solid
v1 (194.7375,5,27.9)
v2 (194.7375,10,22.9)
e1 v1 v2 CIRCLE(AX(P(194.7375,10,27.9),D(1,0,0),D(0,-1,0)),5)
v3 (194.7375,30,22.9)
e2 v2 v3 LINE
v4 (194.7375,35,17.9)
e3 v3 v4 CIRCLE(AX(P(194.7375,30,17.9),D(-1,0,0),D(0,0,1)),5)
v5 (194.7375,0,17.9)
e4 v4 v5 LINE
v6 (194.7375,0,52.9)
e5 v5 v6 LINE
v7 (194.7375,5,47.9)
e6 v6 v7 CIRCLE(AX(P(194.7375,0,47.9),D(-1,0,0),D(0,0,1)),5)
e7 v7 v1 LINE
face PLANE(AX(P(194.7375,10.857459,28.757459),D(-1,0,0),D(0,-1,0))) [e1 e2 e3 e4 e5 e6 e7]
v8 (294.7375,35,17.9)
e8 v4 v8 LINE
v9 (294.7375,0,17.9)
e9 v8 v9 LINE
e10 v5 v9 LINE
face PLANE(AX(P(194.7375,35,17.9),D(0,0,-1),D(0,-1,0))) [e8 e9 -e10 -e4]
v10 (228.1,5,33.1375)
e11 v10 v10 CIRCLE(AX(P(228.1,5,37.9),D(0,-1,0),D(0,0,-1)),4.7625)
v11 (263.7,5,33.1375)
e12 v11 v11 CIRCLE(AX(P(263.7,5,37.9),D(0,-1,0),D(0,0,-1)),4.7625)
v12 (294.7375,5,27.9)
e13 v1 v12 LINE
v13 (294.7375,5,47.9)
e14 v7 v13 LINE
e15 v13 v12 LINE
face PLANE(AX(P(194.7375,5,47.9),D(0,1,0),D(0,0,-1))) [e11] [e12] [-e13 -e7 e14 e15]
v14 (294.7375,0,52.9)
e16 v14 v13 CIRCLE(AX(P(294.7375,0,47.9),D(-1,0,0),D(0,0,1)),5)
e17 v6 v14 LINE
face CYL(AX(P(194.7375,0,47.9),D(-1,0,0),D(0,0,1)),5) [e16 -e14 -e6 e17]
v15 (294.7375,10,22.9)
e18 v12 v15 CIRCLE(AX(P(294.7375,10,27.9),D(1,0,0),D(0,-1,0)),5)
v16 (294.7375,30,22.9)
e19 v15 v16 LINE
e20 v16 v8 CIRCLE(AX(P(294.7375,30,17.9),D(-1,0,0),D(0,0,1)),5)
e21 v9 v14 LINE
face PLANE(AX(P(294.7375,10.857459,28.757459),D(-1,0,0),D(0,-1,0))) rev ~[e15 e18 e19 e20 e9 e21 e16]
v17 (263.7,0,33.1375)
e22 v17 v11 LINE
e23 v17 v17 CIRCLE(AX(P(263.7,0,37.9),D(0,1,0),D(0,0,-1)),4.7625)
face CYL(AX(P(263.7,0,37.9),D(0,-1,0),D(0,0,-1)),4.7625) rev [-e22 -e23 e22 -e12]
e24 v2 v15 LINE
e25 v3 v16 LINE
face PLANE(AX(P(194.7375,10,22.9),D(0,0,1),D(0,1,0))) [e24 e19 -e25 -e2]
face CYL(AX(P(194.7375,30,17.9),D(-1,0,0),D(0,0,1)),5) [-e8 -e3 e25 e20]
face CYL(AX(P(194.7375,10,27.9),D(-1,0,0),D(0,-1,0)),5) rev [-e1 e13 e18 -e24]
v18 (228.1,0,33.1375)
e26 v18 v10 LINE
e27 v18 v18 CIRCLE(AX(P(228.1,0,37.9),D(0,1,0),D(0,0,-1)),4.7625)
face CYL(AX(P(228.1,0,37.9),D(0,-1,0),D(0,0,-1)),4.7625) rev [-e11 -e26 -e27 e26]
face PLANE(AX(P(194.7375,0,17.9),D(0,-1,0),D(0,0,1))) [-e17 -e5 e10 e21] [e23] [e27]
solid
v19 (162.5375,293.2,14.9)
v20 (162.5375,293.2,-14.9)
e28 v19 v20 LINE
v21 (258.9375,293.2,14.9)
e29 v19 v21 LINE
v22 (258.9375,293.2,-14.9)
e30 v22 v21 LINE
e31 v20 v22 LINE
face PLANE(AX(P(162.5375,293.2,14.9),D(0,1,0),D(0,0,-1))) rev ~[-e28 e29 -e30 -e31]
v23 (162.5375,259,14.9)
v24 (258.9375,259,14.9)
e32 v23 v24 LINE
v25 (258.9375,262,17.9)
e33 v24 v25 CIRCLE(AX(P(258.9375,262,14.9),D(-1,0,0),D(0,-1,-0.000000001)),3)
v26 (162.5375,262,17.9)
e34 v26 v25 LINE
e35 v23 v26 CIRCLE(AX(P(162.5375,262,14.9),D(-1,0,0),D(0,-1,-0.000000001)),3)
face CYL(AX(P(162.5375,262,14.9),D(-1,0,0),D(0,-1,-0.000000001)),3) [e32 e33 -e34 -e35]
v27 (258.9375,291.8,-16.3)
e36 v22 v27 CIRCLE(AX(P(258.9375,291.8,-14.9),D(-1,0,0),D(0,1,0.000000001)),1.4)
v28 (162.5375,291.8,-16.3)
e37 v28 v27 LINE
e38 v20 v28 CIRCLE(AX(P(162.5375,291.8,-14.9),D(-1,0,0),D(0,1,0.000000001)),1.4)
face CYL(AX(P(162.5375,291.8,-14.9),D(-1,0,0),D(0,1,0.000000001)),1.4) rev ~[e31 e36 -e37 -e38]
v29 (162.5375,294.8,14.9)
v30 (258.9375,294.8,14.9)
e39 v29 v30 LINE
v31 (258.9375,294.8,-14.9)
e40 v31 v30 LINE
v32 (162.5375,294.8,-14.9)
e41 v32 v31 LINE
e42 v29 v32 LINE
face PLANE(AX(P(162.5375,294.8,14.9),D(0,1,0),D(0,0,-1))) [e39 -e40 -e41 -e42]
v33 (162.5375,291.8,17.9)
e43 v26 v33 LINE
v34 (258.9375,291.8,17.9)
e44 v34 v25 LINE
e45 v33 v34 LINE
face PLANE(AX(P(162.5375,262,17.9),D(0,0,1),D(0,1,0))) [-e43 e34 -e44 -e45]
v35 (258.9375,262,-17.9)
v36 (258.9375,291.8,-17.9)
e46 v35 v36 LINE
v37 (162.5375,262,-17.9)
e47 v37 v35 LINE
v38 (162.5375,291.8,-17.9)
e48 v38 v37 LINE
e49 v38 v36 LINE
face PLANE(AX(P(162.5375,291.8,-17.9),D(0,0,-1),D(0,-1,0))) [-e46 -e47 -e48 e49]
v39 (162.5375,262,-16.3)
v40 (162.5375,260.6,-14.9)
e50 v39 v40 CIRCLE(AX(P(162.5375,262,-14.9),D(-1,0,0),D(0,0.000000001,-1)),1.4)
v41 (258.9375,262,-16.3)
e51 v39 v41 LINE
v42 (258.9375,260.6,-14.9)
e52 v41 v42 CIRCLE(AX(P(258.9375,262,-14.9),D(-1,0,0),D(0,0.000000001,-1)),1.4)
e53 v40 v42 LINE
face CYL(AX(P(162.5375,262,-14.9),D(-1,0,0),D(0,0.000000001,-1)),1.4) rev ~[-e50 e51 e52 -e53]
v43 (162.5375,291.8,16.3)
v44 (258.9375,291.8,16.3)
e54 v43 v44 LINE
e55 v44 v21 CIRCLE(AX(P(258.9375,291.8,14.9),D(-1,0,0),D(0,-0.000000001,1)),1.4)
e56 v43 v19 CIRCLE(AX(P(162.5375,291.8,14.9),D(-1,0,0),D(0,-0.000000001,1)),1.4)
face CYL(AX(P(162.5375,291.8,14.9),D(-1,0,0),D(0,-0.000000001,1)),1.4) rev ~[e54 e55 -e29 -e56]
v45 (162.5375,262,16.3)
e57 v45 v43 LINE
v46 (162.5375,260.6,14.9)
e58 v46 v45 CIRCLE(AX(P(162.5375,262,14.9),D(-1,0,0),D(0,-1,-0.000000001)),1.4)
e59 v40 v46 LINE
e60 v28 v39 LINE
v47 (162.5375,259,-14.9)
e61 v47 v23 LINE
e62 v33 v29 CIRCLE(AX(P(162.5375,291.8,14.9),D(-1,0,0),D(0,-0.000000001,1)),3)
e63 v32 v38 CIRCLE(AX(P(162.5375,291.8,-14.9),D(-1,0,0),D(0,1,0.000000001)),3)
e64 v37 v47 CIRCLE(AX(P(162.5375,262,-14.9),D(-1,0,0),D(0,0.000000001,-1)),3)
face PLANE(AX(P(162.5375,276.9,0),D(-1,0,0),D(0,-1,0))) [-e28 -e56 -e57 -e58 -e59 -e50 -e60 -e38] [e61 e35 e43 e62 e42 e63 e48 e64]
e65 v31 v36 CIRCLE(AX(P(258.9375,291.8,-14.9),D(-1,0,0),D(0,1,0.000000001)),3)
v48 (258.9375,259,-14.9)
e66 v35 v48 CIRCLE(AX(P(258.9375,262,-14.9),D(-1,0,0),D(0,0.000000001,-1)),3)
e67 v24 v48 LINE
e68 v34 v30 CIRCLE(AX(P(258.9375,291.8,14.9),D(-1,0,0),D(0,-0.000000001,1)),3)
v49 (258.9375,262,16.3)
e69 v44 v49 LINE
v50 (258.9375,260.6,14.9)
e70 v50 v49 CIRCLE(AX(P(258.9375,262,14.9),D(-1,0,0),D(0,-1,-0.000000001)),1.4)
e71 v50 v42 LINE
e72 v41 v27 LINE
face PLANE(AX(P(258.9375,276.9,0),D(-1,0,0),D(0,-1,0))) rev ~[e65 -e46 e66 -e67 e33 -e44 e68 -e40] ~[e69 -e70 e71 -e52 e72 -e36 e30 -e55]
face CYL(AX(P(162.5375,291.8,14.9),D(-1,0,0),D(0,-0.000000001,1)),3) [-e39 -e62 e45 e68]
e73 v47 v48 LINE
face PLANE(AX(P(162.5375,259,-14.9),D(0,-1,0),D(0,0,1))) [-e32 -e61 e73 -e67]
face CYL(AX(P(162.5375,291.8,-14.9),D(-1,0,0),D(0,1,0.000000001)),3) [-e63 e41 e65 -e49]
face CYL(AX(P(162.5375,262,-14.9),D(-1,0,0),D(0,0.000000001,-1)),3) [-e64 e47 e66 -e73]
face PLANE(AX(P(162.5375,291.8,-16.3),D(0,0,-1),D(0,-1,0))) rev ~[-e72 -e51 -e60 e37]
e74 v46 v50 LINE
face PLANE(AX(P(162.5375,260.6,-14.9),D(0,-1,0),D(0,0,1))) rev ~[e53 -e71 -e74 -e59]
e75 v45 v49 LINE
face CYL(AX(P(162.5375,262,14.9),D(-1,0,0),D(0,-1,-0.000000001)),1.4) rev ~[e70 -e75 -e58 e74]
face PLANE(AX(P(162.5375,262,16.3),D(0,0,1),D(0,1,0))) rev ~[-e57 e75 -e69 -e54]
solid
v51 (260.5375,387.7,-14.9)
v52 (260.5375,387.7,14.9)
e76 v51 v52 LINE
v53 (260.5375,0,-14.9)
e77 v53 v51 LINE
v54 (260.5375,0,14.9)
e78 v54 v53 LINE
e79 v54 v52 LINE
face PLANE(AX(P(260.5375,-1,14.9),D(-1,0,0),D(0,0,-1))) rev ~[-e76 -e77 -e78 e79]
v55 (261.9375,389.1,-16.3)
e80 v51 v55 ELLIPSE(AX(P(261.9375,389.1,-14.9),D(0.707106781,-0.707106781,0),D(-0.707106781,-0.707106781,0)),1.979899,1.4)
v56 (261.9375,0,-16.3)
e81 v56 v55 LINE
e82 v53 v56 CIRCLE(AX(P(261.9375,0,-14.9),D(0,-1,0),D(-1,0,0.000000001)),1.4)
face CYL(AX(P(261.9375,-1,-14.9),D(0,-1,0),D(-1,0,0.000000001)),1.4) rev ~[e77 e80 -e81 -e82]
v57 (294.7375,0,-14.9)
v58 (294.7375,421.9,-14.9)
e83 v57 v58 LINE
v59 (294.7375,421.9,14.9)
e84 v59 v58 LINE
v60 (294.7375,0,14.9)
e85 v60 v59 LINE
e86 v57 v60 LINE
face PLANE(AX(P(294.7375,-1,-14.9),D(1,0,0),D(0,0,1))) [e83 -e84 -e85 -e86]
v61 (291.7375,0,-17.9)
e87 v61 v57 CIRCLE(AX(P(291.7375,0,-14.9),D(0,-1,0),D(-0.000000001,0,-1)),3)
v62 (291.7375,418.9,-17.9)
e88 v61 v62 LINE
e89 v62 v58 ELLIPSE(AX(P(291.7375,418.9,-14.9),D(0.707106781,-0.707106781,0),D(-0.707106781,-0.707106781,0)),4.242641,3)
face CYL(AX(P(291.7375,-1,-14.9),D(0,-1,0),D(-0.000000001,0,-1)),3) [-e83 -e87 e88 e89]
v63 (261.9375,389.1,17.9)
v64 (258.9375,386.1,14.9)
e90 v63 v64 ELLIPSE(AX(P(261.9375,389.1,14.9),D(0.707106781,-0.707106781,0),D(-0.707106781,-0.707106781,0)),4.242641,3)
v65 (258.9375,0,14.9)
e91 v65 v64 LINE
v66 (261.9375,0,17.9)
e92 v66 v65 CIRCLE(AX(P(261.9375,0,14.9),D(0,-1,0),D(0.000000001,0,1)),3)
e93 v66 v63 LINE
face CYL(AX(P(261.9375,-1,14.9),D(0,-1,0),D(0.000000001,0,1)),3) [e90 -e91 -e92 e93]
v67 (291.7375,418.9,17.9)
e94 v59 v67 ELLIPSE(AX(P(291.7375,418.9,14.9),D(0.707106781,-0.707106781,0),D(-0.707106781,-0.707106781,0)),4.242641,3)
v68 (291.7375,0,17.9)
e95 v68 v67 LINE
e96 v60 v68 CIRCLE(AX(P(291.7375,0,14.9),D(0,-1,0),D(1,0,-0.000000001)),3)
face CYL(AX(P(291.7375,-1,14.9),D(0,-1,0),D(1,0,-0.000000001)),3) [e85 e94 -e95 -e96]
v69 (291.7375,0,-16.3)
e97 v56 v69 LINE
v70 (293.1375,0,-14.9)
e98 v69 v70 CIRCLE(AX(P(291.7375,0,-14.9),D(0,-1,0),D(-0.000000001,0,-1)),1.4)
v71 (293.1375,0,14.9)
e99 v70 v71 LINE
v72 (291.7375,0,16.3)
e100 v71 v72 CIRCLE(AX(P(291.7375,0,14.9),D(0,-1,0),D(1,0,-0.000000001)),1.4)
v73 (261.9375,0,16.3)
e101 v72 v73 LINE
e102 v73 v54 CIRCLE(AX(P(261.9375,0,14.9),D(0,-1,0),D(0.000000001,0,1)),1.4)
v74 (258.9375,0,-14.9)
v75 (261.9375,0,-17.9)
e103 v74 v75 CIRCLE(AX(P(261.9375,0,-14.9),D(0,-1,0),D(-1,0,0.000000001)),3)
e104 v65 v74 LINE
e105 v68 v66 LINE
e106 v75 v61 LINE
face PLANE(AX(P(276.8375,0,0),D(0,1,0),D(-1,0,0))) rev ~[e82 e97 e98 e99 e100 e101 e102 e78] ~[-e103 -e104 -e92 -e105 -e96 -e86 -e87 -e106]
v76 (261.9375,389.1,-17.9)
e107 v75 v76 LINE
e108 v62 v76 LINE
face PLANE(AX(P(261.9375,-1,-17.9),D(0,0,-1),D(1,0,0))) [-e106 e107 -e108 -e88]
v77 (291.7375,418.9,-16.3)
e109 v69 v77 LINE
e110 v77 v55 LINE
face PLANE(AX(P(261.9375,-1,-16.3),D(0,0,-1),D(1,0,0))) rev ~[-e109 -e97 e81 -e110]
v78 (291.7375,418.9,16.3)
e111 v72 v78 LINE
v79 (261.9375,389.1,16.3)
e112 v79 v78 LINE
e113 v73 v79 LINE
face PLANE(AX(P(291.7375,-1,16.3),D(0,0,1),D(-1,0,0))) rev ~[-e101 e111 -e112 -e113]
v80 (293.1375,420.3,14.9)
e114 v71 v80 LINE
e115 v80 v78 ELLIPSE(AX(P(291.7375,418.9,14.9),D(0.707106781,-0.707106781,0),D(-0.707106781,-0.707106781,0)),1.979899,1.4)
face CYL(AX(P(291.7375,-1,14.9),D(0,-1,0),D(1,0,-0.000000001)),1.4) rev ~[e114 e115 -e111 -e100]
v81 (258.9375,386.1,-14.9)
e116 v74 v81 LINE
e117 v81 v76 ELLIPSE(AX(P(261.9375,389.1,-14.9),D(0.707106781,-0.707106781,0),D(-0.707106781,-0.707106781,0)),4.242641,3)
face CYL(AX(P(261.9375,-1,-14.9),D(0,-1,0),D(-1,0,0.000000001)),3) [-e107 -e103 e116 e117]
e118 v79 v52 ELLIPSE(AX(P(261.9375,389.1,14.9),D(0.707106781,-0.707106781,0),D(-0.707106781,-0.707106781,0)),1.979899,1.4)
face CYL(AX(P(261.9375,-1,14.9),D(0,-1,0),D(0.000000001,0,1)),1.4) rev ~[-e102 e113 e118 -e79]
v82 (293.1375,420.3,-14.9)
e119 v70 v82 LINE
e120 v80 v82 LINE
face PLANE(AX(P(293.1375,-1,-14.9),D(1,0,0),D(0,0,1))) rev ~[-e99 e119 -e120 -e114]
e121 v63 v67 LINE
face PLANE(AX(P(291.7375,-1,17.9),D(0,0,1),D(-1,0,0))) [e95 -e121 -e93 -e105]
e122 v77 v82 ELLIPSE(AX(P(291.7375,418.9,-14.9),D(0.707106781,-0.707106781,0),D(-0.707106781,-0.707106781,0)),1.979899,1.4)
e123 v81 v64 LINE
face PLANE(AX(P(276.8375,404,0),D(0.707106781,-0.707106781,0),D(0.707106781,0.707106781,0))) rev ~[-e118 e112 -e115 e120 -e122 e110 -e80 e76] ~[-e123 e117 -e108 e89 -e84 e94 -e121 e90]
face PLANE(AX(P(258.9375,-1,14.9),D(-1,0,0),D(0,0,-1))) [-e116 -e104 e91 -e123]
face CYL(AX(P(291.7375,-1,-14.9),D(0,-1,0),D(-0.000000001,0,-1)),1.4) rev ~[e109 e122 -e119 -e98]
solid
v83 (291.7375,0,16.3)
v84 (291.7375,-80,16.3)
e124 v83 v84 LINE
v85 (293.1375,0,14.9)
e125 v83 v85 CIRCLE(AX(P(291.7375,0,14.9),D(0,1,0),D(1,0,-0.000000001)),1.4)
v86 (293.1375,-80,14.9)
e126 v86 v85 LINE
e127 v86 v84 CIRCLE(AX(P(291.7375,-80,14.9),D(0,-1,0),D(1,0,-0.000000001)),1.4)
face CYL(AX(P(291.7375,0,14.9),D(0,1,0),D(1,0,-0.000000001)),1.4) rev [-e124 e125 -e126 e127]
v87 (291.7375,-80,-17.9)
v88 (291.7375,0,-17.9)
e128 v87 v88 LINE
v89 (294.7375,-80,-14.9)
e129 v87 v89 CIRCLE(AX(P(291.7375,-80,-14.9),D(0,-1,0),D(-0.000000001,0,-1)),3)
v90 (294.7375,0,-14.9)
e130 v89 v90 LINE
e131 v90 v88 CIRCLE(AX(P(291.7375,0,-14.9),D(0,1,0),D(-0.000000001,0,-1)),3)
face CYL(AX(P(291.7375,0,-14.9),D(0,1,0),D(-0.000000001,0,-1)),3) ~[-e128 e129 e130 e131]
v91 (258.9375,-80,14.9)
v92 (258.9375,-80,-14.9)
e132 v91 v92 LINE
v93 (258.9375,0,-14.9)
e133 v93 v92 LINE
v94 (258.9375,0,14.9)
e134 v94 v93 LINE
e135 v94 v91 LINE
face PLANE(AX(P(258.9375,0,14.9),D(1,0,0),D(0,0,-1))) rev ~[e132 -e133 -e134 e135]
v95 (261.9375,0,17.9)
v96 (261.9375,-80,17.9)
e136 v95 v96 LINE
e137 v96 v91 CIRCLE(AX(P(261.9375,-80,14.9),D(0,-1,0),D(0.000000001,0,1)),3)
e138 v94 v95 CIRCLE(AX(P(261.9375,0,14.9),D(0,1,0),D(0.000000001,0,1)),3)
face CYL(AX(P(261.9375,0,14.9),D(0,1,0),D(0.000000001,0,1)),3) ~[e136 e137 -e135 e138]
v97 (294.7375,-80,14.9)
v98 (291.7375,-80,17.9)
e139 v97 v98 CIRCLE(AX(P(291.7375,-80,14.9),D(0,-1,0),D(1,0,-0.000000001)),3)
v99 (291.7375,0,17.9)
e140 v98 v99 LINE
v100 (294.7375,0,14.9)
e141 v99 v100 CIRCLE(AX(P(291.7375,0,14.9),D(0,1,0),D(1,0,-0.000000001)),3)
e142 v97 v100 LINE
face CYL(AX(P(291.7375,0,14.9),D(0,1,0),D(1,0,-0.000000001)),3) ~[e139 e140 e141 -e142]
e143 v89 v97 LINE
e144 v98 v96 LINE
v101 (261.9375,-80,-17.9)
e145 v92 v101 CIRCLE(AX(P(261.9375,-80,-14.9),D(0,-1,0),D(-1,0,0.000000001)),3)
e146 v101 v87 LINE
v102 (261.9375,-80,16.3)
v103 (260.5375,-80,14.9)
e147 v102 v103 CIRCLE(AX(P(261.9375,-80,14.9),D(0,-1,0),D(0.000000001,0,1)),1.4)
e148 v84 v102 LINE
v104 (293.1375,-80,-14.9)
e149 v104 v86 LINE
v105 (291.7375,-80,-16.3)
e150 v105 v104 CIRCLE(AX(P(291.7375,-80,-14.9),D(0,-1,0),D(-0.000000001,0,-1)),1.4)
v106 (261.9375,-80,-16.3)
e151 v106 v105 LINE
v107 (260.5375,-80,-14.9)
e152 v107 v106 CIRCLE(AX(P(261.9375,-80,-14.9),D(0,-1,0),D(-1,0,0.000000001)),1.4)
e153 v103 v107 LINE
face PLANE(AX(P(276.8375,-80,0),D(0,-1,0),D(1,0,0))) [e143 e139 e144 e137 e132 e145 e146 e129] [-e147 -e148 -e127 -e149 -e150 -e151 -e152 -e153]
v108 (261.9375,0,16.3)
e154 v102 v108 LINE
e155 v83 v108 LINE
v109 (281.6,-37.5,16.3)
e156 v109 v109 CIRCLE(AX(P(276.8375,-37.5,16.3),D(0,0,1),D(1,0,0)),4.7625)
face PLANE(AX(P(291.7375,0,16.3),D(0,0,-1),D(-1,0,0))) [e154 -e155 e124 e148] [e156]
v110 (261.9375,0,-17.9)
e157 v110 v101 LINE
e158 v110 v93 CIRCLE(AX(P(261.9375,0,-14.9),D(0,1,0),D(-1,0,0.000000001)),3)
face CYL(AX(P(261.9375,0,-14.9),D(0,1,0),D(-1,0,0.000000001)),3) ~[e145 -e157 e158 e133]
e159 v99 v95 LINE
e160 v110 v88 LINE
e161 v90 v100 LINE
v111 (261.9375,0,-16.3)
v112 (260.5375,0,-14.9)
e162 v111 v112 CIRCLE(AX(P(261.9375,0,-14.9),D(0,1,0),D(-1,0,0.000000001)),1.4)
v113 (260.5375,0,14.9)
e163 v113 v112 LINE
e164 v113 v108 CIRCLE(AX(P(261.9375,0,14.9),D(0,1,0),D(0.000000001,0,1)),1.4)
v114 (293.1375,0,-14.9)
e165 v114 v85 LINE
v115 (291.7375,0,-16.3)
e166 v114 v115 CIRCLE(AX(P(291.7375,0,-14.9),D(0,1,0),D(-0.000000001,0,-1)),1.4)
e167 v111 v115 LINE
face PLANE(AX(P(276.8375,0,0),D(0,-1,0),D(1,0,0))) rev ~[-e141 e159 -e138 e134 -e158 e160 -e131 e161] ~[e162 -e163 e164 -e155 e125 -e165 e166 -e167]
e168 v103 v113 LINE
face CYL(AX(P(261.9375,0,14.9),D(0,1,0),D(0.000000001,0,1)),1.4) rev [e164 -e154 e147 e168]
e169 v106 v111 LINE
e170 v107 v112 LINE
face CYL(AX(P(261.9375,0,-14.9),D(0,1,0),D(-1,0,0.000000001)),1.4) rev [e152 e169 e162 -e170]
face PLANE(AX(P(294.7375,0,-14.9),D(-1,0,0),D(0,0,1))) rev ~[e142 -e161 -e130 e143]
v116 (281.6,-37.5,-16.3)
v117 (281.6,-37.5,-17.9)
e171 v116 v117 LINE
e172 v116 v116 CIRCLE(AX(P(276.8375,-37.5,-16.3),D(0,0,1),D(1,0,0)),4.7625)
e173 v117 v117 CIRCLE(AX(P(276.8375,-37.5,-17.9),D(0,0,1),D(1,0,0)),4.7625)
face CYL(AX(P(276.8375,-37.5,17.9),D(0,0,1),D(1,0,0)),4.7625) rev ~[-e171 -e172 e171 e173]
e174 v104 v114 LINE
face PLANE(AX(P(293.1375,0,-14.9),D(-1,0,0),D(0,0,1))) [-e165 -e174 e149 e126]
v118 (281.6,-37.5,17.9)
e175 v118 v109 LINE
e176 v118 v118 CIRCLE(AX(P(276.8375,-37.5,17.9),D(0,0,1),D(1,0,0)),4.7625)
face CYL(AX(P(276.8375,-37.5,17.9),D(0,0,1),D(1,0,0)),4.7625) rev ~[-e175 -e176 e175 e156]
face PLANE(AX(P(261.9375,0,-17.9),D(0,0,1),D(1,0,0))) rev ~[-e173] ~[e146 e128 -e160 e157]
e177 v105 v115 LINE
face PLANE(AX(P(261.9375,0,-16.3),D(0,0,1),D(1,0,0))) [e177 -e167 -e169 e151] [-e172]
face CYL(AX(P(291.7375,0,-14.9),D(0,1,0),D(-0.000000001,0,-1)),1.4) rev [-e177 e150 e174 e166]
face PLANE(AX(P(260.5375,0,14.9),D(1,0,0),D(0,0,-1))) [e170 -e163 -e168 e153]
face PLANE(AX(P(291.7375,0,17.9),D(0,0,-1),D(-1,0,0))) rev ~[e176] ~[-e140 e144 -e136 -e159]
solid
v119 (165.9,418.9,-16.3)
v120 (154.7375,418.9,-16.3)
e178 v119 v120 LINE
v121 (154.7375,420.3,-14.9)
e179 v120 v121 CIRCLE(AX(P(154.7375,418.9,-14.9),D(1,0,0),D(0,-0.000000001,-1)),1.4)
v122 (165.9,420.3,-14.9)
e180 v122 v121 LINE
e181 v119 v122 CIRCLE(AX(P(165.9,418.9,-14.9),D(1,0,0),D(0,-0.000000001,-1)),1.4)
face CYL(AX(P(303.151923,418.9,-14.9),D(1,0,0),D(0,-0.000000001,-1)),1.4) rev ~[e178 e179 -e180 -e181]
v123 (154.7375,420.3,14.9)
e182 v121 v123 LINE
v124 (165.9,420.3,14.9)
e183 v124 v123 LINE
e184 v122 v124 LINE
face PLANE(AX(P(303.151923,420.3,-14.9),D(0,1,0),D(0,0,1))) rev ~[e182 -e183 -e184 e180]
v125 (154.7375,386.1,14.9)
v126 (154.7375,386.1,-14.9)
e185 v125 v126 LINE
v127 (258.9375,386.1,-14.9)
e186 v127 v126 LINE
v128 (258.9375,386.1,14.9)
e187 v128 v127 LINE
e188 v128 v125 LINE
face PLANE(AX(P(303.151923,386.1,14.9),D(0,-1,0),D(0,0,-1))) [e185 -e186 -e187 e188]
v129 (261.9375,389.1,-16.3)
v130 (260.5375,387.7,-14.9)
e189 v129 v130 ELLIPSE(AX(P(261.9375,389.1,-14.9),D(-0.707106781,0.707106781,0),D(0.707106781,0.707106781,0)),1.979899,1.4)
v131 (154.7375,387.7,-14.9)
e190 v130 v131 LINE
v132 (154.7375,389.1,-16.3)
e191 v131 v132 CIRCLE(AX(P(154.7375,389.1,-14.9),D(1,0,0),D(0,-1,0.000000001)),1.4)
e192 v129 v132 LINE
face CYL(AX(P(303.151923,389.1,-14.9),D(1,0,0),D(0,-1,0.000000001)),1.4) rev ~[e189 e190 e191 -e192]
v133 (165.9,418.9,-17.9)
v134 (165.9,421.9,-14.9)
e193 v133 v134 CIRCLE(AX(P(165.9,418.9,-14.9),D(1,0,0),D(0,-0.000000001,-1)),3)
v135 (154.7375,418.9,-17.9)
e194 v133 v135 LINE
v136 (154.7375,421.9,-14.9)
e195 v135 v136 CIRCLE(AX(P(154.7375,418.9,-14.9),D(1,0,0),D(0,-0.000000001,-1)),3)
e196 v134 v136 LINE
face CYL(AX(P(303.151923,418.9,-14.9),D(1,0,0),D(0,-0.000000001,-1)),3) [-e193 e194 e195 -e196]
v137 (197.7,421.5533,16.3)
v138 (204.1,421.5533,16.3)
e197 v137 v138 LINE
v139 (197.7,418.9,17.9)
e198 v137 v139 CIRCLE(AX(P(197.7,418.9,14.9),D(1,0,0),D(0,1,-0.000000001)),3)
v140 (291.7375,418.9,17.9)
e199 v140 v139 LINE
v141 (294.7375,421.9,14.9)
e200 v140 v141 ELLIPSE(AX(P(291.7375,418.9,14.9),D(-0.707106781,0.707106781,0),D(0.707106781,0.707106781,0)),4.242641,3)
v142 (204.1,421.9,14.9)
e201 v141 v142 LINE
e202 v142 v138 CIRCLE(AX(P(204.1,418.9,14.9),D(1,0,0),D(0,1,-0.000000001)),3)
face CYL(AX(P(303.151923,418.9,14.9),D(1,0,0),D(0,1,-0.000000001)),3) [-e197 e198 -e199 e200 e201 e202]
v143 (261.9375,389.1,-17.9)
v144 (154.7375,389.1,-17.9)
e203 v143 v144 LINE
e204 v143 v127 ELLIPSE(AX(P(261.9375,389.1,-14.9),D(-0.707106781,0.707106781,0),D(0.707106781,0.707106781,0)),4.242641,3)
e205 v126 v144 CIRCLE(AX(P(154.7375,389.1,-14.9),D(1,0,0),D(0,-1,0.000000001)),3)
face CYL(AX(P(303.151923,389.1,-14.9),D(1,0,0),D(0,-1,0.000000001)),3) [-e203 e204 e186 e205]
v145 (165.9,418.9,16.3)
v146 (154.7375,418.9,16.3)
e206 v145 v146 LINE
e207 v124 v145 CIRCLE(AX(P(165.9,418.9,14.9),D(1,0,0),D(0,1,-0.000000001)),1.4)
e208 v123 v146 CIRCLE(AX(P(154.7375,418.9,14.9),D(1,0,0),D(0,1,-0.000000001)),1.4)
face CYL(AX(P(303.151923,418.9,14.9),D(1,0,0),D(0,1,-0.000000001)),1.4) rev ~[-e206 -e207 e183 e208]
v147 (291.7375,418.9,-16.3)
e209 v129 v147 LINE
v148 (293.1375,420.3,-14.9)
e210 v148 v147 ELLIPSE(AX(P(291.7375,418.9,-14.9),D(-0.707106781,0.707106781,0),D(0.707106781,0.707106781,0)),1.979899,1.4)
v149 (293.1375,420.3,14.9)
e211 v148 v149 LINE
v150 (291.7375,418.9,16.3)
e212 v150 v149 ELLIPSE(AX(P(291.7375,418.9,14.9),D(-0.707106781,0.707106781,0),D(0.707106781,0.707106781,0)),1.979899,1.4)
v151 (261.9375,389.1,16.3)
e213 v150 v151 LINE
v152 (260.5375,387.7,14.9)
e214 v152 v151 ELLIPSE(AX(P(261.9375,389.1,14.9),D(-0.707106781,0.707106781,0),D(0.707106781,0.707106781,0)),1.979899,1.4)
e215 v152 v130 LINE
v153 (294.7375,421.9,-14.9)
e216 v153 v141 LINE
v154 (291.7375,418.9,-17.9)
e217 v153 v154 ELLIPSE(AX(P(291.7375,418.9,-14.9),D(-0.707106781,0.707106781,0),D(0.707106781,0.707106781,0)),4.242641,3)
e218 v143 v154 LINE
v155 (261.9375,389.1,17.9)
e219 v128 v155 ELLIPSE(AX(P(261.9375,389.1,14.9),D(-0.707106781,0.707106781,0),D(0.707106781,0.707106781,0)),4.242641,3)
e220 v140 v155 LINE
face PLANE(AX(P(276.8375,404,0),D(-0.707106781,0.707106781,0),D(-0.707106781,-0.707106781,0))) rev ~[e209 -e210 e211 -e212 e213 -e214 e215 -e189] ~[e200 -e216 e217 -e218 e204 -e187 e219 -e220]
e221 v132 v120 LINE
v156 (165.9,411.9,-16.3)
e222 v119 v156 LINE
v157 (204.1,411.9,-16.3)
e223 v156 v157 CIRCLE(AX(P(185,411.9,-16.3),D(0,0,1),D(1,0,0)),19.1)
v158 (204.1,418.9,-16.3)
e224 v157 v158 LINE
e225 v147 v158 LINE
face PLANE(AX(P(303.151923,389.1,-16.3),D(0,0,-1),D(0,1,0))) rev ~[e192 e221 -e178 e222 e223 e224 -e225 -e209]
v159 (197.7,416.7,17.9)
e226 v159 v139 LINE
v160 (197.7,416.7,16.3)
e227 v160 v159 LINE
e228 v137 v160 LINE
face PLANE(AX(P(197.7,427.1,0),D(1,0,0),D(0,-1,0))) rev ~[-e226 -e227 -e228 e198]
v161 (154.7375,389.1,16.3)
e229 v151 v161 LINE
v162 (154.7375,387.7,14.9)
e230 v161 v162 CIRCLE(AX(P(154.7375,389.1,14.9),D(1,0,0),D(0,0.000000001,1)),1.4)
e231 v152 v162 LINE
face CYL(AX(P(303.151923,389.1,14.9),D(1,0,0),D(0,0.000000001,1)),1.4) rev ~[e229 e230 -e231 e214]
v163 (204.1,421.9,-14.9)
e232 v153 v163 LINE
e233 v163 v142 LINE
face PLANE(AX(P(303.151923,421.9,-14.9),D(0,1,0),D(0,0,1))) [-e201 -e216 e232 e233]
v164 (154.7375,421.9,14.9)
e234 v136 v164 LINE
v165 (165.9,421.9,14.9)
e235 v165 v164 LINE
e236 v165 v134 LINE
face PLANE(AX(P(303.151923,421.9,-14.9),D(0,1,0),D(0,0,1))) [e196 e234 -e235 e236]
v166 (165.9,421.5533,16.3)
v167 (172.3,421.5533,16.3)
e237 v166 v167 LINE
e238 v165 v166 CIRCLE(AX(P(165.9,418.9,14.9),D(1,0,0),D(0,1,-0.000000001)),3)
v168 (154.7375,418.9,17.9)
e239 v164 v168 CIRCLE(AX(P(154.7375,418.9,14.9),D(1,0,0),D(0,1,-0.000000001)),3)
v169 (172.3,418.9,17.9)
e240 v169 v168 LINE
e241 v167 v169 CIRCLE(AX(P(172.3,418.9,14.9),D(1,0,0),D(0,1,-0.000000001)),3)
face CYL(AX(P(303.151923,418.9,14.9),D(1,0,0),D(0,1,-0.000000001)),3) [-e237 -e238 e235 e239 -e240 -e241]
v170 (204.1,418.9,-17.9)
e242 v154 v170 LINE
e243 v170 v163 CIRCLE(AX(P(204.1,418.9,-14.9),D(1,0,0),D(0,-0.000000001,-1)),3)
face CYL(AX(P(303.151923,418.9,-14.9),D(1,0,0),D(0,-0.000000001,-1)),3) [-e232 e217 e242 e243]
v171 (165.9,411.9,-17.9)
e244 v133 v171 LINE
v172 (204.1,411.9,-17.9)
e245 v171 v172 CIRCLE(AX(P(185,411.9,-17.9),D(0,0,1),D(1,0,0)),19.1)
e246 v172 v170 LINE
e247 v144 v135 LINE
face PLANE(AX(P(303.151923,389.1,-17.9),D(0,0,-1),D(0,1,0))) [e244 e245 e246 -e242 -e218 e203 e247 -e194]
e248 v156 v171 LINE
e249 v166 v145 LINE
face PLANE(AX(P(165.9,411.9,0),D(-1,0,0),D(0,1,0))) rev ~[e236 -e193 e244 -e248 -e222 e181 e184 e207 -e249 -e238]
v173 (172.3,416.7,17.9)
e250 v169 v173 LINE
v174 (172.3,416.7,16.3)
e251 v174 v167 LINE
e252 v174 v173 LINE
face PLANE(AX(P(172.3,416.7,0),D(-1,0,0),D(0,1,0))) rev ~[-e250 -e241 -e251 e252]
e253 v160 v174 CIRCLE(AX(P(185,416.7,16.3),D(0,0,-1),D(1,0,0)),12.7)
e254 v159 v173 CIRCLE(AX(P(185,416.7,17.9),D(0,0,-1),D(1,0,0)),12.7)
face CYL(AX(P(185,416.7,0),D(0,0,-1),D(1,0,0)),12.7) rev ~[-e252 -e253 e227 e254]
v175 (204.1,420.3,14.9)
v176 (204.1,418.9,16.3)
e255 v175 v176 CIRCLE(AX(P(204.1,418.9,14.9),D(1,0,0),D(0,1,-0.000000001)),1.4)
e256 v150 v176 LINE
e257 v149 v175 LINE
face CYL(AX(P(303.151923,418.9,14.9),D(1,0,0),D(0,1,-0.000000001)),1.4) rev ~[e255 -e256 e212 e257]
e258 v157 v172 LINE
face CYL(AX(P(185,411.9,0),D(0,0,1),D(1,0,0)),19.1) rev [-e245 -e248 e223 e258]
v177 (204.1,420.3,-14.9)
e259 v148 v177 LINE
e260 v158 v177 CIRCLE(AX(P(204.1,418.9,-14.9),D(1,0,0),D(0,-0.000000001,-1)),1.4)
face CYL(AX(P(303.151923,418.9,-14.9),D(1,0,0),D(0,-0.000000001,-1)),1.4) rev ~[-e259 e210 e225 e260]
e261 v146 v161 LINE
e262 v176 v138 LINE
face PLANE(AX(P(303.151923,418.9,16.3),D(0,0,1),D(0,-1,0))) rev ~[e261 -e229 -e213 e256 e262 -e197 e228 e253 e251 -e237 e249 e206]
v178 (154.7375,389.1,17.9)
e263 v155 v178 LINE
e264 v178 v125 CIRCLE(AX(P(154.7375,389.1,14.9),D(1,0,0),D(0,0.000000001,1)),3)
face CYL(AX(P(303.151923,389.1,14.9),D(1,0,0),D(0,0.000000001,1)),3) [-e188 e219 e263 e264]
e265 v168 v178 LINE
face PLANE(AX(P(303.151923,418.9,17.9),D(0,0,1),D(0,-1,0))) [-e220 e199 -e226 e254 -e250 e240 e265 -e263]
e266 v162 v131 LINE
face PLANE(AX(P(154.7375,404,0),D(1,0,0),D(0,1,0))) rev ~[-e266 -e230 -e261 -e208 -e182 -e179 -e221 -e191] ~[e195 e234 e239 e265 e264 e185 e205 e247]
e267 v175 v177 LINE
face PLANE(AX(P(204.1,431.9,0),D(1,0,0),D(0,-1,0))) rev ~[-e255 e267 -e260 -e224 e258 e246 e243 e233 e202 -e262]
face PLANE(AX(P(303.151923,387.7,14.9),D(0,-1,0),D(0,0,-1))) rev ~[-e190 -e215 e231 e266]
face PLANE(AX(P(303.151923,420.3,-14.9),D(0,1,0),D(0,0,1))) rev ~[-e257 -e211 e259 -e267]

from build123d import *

# Parameters (mm, degrees)
STRUCTURAL_MEMBERMAIN_DEPTH                   = 1
STRUCTURAL_MEMBERMAIN_DEPTH_BACK              = 80
STRUCTURAL_MEMBERMAIN_2_DEPTH                 = 431.314422766
STRUCTURAL_MEMBERMAIN_3_DEPTH                 = 148.414422766
STRUCTURAL_MEMBERMAIN_4_DEPTH                 = 115.3
CUT_EXTRUDETOPRAILGUIDE_DEPTH                 = 515.966225986
CUT_EXTRUDETOPRAILGUIDE_DEPTH_BACK            = 515.966225986
STRUCTURAL_MEMBERANGLE_DEPTH                  = 100
SKETCH15_R                                    = 4.7625
CUT_EXTRUDEMOUNTINGHOLES_DEPTH                = 518.366614603
CUT_EXTRUDEENLARGERAILGUIDE_DEPTH             = 518.366614603
CUT_EXTRUDEENLARGERAILGUIDE_DIRECTION_2_REACH = 519.367
SKETCH17_R                                    = 4.7625
CUT_EXTRUDE1_DEPTH                            = 516.898676007


with BuildPart() as part:
    # Sketch11 → Structural MemberMain (new, two sides)
    with BuildSketch(Plane(origin=(276.8375, 0, 0), x_dir=(-1, 0, 0), z_dir=(0, 1, 0))) as structural_membermain_sk:
        with BuildLine():
            Line((-14.9, 17.9), (14.9, 17.9))
            ThreePointArc((14.9, 17.9), (17.021320344, 17.021320344), (17.9, 14.9))
            Line((17.9, 14.9), (17.9, -14.9))
            ThreePointArc((17.9, -14.9), (17.021320344, -17.021320344), (14.9, -17.9))
            Line((14.9, -17.9), (-14.9, -17.9))
            ThreePointArc((-14.9, -17.9), (-17.021320344, -17.021320344), (-17.9, -14.9))
            Line((-17.9, -14.9), (-17.9, 14.9))
            ThreePointArc((-17.9, 14.9), (-17.021320344, 17.021320344), (-14.9, 17.9))
        make_face()
        with BuildLine():
            Line((-14.9, 16.3), (14.9, 16.3))
            ThreePointArc((14.9, 16.3), (15.889949494, 15.889949494), (16.3, 14.9))
            Line((16.3, 14.9), (16.3, -14.9))
            ThreePointArc((16.3, -14.9), (15.889949494, -15.889949494), (14.9, -16.3))
            Line((14.9, -16.3), (-14.9, -16.3))
            ThreePointArc((-14.9, -16.3), (-15.889949494, -15.889949494), (-16.3, -14.9))
            Line((-16.3, -14.9), (-16.3, 14.9))
            ThreePointArc((-16.3, 14.9), (-15.889949494, 15.889949494), (-14.9, 16.3))
        make_face(mode=Mode.SUBTRACT)
    extrude(amount=STRUCTURAL_MEMBERMAIN_DEPTH)
    extrude(structural_membermain_sk.sketch, amount=-STRUCTURAL_MEMBERMAIN_DEPTH_BACK)

    # Structural MemberMain mitre 1
    split(bisect_by=Plane(origin=(276.8375, 0, 0), x_dir=(1, 0, 0), z_dir=(0, -1, 0)), keep=Keep.TOP)

    # Sketch17 → Cut-Extrude1 (cut, through all)
    with BuildSketch(Plane.XY.offset(17.9)):
        with Locations((276.8375, -37.5)):
            Circle(SKETCH17_R)
    extrude(amount=-CUT_EXTRUDE1_DEPTH, mode=Mode.SUBTRACT)


with BuildPart() as body_2:
    # Sketch11 on segment 2 (carried to segment 2) → Structural MemberMain 2 (new body)
    with BuildSketch(Plane(origin=(276.8375, -1, 0), x_dir=(-1, 0, 0), z_dir=(0, 1, 0))):
        with BuildLine():
            Line((-14.9, 17.9), (14.9, 17.9))
            ThreePointArc((14.9, 17.9), (17.021320344, 17.021320344), (17.9, 14.9))
            Line((17.9, 14.9), (17.9, -14.9))
            ThreePointArc((17.9, -14.9), (17.021320344, -17.021320344), (14.9, -17.9))
            Line((14.9, -17.9), (-14.9, -17.9))
            ThreePointArc((-14.9, -17.9), (-17.021320344, -17.021320344), (-17.9, -14.9))
            Line((-17.9, -14.9), (-17.9, 14.9))
            ThreePointArc((-17.9, 14.9), (-17.021320344, 17.021320344), (-14.9, 17.9))
        make_face()
        with BuildLine():
            Line((-14.9, 16.3), (14.9, 16.3))
            ThreePointArc((14.9, 16.3), (15.889949494, 15.889949494), (16.3, 14.9))
            Line((16.3, 14.9), (16.3, -14.9))
            ThreePointArc((16.3, -14.9), (15.889949494, -15.889949494), (14.9, -16.3))
            Line((14.9, -16.3), (-14.9, -16.3))
            ThreePointArc((-14.9, -16.3), (-15.889949494, -15.889949494), (-16.3, -14.9))
            Line((-16.3, -14.9), (-16.3, 14.9))
            ThreePointArc((-16.3, 14.9), (-15.889949494, 15.889949494), (-14.9, 16.3))
        make_face(mode=Mode.SUBTRACT)
    extrude(amount=STRUCTURAL_MEMBERMAIN_2_DEPTH)

    # Structural MemberMain 2 mitre 1
    split(bisect_by=Plane(origin=(276.8375, 0, 0), x_dir=(-1, 0, 0), z_dir=(0, 1, 0)), keep=Keep.TOP)

    # Structural MemberMain 2 mitre 2
    split(bisect_by=Plane(origin=(276.8375, 404, 0), x_dir=(0.707106781, 0.707106781, 0), z_dir=(0.707106781, -0.707106781, 0)), keep=Keep.TOP)


with BuildPart() as body_3:
    # Sketch11 on segment 3 (carried to segment 3) → Structural MemberMain 3 (new body)
    with BuildSketch(Plane(origin=(303.151922766, 404, 0), x_dir=(0, -1, 0), z_dir=(-1, 0, 0))):
        with BuildLine():
            Line((-14.9, 17.9), (14.9, 17.9))
            ThreePointArc((14.9, 17.9), (17.021320344, 17.021320344), (17.9, 14.9))
            Line((17.9, 14.9), (17.9, -14.9))
            ThreePointArc((17.9, -14.9), (17.021320344, -17.021320344), (14.9, -17.9))
            Line((14.9, -17.9), (-14.9, -17.9))
            ThreePointArc((-14.9, -17.9), (-17.021320344, -17.021320344), (-17.9, -14.9))
            Line((-17.9, -14.9), (-17.9, 14.9))
            ThreePointArc((-17.9, 14.9), (-17.021320344, 17.021320344), (-14.9, 17.9))
        make_face()
        with BuildLine():
            Line((-14.9, 16.3), (14.9, 16.3))
            ThreePointArc((14.9, 16.3), (15.889949494, 15.889949494), (16.3, 14.9))
            Line((16.3, 14.9), (16.3, -14.9))
            ThreePointArc((16.3, -14.9), (15.889949494, -15.889949494), (14.9, -16.3))
            Line((14.9, -16.3), (-14.9, -16.3))
            ThreePointArc((-14.9, -16.3), (-15.889949494, -15.889949494), (-16.3, -14.9))
            Line((-16.3, -14.9), (-16.3, 14.9))
            ThreePointArc((-16.3, 14.9), (-15.889949494, 15.889949494), (-14.9, 16.3))
        make_face(mode=Mode.SUBTRACT)
    extrude(amount=STRUCTURAL_MEMBERMAIN_3_DEPTH)

    # Structural MemberMain 3 mitre 1
    split(bisect_by=Plane(origin=(276.8375, 404, 0), x_dir=(-0.707106781, -0.707106781, 0), z_dir=(-0.707106781, 0.707106781, 0)), keep=Keep.TOP)

    # Sketch12 → Cut-ExtrudeTopRailGuide (cut, two sides)
    with BuildSketch(Plane.XY) as cut_extrudetoprailguide_sk:
        with BuildLine():
            Line((172.3, 416.7), (172.3, 427.1))
            ThreePointArc((172.3, 427.1), (185, 439.8), (197.7, 427.1))
            Line((197.7, 427.1), (197.7, 416.7))
            ThreePointArc((197.7, 416.7), (185, 404), (172.3, 416.7))
        make_face()
    extrude(amount=CUT_EXTRUDETOPRAILGUIDE_DEPTH, mode=Mode.SUBTRACT)
    extrude(cut_extrudetoprailguide_sk.sketch, amount=-CUT_EXTRUDETOPRAILGUIDE_DEPTH_BACK, mode=Mode.SUBTRACT)

    # Sketch16 → Cut-ExtrudeEnlargeRailGuide (cut)
    with BuildSketch(Plane.XY):
        with BuildLine():
            Line((204.1, 431.9), (204.1, 411.9))
            ThreePointArc((204.1, 411.9), (185, 392.8), (165.9, 411.9))
            Line((165.9, 411.9), (165.9, 431.9))
            ThreePointArc((165.9, 431.9), (185, 451), (204.1, 431.9))
        make_face()
    extrude(amount=-CUT_EXTRUDEENLARGERAILGUIDE_DEPTH, mode=Mode.SUBTRACT)

    # Cut-ExtrudeEnlargeRailGuide direction 2: up to this face of the body (flat: up to its plane)
    cut_extrudeenlargerailguide_direction_2_end = Plane(body_3.part.faces().sort_by_distance((218.978271579, 403.874495333, 16.3))[0])
    # Sketch16 → Cut-ExtrudeEnlargeRailGuide direction 2 (cut, up to the picked face)
    with BuildSketch(Plane.XY, mode=Mode.PRIVATE) as cut_extrudeenlargerailguide_direction_2_sk1:
        with BuildLine():
            Line((204.1, 431.9), (204.1, 411.9))
            ThreePointArc((204.1, 411.9), (185, 392.8), (165.9, 411.9))
            Line((165.9, 411.9), (165.9, 431.9))
            ThreePointArc((165.9, 431.9), (185, 451), (204.1, 431.9))
        make_face()
    cut_extrudeenlargerailguide_direction_2_tool1 = split(extrude(cut_extrudeenlargerailguide_direction_2_sk1.sketch, amount=CUT_EXTRUDEENLARGERAILGUIDE_DIRECTION_2_REACH, mode=Mode.PRIVATE), bisect_by=cut_extrudeenlargerailguide_direction_2_end, keep=Keep.BOTH, mode=Mode.PRIVATE)
    add(cut_extrudeenlargerailguide_direction_2_tool1.solids().sort_by(Axis((185, 421.9, 0), (0, 0, 1)))[0], mode=Mode.SUBTRACT)


with BuildPart() as body_4:
    # Sketch11 on segment 4 (carried to segment 4) → Structural MemberMain 4 (new body)
    with BuildSketch(Plane(origin=(162.5375, 276.9, 0), x_dir=(0, 1, 0), z_dir=(1, 0, 0))):
        with BuildLine():
            Line((-14.9, 17.9), (14.9, 17.9))
            ThreePointArc((14.9, 17.9), (17.021320344, 17.021320344), (17.9, 14.9))
            Line((17.9, 14.9), (17.9, -14.9))
            ThreePointArc((17.9, -14.9), (17.021320344, -17.021320344), (14.9, -17.9))
            Line((14.9, -17.9), (-14.9, -17.9))
            ThreePointArc((-14.9, -17.9), (-17.021320344, -17.021320344), (-17.9, -14.9))
            Line((-17.9, -14.9), (-17.9, 14.9))
            ThreePointArc((-17.9, 14.9), (-17.021320344, 17.021320344), (-14.9, 17.9))
        make_face()
        with BuildLine():
            Line((-14.9, 16.3), (14.9, 16.3))
            ThreePointArc((14.9, 16.3), (15.889949494, 15.889949494), (16.3, 14.9))
            Line((16.3, 14.9), (16.3, -14.9))
            ThreePointArc((16.3, -14.9), (15.889949494, -15.889949494), (14.9, -16.3))
            Line((14.9, -16.3), (-14.9, -16.3))
            ThreePointArc((-14.9, -16.3), (-15.889949494, -15.889949494), (-16.3, -14.9))
            Line((-16.3, -14.9), (-16.3, 14.9))
            ThreePointArc((-16.3, 14.9), (-15.889949494, 15.889949494), (-14.9, 16.3))
        make_face(mode=Mode.SUBTRACT)
    extrude(amount=STRUCTURAL_MEMBERMAIN_4_DEPTH)

    # Structural MemberMain 4 mitre 1
    split(bisect_by=Plane(origin=(258.9375, 276.9, 0), x_dir=(0, -1, 0), z_dir=(-1, 0, 0)), keep=Keep.TOP)


with BuildPart() as body_5:
    # Sketch14 → Structural MemberAngle (new body)
    with BuildSketch(Plane(origin=(194.7375, 0, 17.9), x_dir=(0, 1, 0), z_dir=(1, 0, 0))):
        with BuildLine():
            Line((0, 0), (0, 35))
            ThreePointArc((0, 35), (3.535533906, 33.535533906), (5, 30))
            Line((5, 30), (5, 10))
            ThreePointArc((5, 10), (6.464466094, 6.464466094), (10, 5))
            Line((10, 5), (30, 5))
            ThreePointArc((30, 5), (33.535533906, 3.535533906), (35, 0))
            Line((35, 0), (0, 0))
        make_face()
    extrude(amount=STRUCTURAL_MEMBERANGLE_DEPTH)

    # Sketch15 → Cut-ExtrudeMountingHoles (cut, through all)
    with BuildSketch(Plane(origin=(0, 0, 0), x_dir=(1, 0, 0), z_dir=(0, 1, 0))):
        with Locations(Location((228.1, -37.9, 0), (0, 0, 90))):
            Circle(SKETCH15_R)
        with Locations(Location((263.7, -37.9, 0), (0, 0, 90))):
            Circle(SKETCH15_R)
    extrude(amount=CUT_EXTRUDEMOUNTINGHOLES_DEPTH, mode=Mode.SUBTRACT)


solid = Compound([part.part, body_2.part, body_3.part, body_4.part, body_5.part])
